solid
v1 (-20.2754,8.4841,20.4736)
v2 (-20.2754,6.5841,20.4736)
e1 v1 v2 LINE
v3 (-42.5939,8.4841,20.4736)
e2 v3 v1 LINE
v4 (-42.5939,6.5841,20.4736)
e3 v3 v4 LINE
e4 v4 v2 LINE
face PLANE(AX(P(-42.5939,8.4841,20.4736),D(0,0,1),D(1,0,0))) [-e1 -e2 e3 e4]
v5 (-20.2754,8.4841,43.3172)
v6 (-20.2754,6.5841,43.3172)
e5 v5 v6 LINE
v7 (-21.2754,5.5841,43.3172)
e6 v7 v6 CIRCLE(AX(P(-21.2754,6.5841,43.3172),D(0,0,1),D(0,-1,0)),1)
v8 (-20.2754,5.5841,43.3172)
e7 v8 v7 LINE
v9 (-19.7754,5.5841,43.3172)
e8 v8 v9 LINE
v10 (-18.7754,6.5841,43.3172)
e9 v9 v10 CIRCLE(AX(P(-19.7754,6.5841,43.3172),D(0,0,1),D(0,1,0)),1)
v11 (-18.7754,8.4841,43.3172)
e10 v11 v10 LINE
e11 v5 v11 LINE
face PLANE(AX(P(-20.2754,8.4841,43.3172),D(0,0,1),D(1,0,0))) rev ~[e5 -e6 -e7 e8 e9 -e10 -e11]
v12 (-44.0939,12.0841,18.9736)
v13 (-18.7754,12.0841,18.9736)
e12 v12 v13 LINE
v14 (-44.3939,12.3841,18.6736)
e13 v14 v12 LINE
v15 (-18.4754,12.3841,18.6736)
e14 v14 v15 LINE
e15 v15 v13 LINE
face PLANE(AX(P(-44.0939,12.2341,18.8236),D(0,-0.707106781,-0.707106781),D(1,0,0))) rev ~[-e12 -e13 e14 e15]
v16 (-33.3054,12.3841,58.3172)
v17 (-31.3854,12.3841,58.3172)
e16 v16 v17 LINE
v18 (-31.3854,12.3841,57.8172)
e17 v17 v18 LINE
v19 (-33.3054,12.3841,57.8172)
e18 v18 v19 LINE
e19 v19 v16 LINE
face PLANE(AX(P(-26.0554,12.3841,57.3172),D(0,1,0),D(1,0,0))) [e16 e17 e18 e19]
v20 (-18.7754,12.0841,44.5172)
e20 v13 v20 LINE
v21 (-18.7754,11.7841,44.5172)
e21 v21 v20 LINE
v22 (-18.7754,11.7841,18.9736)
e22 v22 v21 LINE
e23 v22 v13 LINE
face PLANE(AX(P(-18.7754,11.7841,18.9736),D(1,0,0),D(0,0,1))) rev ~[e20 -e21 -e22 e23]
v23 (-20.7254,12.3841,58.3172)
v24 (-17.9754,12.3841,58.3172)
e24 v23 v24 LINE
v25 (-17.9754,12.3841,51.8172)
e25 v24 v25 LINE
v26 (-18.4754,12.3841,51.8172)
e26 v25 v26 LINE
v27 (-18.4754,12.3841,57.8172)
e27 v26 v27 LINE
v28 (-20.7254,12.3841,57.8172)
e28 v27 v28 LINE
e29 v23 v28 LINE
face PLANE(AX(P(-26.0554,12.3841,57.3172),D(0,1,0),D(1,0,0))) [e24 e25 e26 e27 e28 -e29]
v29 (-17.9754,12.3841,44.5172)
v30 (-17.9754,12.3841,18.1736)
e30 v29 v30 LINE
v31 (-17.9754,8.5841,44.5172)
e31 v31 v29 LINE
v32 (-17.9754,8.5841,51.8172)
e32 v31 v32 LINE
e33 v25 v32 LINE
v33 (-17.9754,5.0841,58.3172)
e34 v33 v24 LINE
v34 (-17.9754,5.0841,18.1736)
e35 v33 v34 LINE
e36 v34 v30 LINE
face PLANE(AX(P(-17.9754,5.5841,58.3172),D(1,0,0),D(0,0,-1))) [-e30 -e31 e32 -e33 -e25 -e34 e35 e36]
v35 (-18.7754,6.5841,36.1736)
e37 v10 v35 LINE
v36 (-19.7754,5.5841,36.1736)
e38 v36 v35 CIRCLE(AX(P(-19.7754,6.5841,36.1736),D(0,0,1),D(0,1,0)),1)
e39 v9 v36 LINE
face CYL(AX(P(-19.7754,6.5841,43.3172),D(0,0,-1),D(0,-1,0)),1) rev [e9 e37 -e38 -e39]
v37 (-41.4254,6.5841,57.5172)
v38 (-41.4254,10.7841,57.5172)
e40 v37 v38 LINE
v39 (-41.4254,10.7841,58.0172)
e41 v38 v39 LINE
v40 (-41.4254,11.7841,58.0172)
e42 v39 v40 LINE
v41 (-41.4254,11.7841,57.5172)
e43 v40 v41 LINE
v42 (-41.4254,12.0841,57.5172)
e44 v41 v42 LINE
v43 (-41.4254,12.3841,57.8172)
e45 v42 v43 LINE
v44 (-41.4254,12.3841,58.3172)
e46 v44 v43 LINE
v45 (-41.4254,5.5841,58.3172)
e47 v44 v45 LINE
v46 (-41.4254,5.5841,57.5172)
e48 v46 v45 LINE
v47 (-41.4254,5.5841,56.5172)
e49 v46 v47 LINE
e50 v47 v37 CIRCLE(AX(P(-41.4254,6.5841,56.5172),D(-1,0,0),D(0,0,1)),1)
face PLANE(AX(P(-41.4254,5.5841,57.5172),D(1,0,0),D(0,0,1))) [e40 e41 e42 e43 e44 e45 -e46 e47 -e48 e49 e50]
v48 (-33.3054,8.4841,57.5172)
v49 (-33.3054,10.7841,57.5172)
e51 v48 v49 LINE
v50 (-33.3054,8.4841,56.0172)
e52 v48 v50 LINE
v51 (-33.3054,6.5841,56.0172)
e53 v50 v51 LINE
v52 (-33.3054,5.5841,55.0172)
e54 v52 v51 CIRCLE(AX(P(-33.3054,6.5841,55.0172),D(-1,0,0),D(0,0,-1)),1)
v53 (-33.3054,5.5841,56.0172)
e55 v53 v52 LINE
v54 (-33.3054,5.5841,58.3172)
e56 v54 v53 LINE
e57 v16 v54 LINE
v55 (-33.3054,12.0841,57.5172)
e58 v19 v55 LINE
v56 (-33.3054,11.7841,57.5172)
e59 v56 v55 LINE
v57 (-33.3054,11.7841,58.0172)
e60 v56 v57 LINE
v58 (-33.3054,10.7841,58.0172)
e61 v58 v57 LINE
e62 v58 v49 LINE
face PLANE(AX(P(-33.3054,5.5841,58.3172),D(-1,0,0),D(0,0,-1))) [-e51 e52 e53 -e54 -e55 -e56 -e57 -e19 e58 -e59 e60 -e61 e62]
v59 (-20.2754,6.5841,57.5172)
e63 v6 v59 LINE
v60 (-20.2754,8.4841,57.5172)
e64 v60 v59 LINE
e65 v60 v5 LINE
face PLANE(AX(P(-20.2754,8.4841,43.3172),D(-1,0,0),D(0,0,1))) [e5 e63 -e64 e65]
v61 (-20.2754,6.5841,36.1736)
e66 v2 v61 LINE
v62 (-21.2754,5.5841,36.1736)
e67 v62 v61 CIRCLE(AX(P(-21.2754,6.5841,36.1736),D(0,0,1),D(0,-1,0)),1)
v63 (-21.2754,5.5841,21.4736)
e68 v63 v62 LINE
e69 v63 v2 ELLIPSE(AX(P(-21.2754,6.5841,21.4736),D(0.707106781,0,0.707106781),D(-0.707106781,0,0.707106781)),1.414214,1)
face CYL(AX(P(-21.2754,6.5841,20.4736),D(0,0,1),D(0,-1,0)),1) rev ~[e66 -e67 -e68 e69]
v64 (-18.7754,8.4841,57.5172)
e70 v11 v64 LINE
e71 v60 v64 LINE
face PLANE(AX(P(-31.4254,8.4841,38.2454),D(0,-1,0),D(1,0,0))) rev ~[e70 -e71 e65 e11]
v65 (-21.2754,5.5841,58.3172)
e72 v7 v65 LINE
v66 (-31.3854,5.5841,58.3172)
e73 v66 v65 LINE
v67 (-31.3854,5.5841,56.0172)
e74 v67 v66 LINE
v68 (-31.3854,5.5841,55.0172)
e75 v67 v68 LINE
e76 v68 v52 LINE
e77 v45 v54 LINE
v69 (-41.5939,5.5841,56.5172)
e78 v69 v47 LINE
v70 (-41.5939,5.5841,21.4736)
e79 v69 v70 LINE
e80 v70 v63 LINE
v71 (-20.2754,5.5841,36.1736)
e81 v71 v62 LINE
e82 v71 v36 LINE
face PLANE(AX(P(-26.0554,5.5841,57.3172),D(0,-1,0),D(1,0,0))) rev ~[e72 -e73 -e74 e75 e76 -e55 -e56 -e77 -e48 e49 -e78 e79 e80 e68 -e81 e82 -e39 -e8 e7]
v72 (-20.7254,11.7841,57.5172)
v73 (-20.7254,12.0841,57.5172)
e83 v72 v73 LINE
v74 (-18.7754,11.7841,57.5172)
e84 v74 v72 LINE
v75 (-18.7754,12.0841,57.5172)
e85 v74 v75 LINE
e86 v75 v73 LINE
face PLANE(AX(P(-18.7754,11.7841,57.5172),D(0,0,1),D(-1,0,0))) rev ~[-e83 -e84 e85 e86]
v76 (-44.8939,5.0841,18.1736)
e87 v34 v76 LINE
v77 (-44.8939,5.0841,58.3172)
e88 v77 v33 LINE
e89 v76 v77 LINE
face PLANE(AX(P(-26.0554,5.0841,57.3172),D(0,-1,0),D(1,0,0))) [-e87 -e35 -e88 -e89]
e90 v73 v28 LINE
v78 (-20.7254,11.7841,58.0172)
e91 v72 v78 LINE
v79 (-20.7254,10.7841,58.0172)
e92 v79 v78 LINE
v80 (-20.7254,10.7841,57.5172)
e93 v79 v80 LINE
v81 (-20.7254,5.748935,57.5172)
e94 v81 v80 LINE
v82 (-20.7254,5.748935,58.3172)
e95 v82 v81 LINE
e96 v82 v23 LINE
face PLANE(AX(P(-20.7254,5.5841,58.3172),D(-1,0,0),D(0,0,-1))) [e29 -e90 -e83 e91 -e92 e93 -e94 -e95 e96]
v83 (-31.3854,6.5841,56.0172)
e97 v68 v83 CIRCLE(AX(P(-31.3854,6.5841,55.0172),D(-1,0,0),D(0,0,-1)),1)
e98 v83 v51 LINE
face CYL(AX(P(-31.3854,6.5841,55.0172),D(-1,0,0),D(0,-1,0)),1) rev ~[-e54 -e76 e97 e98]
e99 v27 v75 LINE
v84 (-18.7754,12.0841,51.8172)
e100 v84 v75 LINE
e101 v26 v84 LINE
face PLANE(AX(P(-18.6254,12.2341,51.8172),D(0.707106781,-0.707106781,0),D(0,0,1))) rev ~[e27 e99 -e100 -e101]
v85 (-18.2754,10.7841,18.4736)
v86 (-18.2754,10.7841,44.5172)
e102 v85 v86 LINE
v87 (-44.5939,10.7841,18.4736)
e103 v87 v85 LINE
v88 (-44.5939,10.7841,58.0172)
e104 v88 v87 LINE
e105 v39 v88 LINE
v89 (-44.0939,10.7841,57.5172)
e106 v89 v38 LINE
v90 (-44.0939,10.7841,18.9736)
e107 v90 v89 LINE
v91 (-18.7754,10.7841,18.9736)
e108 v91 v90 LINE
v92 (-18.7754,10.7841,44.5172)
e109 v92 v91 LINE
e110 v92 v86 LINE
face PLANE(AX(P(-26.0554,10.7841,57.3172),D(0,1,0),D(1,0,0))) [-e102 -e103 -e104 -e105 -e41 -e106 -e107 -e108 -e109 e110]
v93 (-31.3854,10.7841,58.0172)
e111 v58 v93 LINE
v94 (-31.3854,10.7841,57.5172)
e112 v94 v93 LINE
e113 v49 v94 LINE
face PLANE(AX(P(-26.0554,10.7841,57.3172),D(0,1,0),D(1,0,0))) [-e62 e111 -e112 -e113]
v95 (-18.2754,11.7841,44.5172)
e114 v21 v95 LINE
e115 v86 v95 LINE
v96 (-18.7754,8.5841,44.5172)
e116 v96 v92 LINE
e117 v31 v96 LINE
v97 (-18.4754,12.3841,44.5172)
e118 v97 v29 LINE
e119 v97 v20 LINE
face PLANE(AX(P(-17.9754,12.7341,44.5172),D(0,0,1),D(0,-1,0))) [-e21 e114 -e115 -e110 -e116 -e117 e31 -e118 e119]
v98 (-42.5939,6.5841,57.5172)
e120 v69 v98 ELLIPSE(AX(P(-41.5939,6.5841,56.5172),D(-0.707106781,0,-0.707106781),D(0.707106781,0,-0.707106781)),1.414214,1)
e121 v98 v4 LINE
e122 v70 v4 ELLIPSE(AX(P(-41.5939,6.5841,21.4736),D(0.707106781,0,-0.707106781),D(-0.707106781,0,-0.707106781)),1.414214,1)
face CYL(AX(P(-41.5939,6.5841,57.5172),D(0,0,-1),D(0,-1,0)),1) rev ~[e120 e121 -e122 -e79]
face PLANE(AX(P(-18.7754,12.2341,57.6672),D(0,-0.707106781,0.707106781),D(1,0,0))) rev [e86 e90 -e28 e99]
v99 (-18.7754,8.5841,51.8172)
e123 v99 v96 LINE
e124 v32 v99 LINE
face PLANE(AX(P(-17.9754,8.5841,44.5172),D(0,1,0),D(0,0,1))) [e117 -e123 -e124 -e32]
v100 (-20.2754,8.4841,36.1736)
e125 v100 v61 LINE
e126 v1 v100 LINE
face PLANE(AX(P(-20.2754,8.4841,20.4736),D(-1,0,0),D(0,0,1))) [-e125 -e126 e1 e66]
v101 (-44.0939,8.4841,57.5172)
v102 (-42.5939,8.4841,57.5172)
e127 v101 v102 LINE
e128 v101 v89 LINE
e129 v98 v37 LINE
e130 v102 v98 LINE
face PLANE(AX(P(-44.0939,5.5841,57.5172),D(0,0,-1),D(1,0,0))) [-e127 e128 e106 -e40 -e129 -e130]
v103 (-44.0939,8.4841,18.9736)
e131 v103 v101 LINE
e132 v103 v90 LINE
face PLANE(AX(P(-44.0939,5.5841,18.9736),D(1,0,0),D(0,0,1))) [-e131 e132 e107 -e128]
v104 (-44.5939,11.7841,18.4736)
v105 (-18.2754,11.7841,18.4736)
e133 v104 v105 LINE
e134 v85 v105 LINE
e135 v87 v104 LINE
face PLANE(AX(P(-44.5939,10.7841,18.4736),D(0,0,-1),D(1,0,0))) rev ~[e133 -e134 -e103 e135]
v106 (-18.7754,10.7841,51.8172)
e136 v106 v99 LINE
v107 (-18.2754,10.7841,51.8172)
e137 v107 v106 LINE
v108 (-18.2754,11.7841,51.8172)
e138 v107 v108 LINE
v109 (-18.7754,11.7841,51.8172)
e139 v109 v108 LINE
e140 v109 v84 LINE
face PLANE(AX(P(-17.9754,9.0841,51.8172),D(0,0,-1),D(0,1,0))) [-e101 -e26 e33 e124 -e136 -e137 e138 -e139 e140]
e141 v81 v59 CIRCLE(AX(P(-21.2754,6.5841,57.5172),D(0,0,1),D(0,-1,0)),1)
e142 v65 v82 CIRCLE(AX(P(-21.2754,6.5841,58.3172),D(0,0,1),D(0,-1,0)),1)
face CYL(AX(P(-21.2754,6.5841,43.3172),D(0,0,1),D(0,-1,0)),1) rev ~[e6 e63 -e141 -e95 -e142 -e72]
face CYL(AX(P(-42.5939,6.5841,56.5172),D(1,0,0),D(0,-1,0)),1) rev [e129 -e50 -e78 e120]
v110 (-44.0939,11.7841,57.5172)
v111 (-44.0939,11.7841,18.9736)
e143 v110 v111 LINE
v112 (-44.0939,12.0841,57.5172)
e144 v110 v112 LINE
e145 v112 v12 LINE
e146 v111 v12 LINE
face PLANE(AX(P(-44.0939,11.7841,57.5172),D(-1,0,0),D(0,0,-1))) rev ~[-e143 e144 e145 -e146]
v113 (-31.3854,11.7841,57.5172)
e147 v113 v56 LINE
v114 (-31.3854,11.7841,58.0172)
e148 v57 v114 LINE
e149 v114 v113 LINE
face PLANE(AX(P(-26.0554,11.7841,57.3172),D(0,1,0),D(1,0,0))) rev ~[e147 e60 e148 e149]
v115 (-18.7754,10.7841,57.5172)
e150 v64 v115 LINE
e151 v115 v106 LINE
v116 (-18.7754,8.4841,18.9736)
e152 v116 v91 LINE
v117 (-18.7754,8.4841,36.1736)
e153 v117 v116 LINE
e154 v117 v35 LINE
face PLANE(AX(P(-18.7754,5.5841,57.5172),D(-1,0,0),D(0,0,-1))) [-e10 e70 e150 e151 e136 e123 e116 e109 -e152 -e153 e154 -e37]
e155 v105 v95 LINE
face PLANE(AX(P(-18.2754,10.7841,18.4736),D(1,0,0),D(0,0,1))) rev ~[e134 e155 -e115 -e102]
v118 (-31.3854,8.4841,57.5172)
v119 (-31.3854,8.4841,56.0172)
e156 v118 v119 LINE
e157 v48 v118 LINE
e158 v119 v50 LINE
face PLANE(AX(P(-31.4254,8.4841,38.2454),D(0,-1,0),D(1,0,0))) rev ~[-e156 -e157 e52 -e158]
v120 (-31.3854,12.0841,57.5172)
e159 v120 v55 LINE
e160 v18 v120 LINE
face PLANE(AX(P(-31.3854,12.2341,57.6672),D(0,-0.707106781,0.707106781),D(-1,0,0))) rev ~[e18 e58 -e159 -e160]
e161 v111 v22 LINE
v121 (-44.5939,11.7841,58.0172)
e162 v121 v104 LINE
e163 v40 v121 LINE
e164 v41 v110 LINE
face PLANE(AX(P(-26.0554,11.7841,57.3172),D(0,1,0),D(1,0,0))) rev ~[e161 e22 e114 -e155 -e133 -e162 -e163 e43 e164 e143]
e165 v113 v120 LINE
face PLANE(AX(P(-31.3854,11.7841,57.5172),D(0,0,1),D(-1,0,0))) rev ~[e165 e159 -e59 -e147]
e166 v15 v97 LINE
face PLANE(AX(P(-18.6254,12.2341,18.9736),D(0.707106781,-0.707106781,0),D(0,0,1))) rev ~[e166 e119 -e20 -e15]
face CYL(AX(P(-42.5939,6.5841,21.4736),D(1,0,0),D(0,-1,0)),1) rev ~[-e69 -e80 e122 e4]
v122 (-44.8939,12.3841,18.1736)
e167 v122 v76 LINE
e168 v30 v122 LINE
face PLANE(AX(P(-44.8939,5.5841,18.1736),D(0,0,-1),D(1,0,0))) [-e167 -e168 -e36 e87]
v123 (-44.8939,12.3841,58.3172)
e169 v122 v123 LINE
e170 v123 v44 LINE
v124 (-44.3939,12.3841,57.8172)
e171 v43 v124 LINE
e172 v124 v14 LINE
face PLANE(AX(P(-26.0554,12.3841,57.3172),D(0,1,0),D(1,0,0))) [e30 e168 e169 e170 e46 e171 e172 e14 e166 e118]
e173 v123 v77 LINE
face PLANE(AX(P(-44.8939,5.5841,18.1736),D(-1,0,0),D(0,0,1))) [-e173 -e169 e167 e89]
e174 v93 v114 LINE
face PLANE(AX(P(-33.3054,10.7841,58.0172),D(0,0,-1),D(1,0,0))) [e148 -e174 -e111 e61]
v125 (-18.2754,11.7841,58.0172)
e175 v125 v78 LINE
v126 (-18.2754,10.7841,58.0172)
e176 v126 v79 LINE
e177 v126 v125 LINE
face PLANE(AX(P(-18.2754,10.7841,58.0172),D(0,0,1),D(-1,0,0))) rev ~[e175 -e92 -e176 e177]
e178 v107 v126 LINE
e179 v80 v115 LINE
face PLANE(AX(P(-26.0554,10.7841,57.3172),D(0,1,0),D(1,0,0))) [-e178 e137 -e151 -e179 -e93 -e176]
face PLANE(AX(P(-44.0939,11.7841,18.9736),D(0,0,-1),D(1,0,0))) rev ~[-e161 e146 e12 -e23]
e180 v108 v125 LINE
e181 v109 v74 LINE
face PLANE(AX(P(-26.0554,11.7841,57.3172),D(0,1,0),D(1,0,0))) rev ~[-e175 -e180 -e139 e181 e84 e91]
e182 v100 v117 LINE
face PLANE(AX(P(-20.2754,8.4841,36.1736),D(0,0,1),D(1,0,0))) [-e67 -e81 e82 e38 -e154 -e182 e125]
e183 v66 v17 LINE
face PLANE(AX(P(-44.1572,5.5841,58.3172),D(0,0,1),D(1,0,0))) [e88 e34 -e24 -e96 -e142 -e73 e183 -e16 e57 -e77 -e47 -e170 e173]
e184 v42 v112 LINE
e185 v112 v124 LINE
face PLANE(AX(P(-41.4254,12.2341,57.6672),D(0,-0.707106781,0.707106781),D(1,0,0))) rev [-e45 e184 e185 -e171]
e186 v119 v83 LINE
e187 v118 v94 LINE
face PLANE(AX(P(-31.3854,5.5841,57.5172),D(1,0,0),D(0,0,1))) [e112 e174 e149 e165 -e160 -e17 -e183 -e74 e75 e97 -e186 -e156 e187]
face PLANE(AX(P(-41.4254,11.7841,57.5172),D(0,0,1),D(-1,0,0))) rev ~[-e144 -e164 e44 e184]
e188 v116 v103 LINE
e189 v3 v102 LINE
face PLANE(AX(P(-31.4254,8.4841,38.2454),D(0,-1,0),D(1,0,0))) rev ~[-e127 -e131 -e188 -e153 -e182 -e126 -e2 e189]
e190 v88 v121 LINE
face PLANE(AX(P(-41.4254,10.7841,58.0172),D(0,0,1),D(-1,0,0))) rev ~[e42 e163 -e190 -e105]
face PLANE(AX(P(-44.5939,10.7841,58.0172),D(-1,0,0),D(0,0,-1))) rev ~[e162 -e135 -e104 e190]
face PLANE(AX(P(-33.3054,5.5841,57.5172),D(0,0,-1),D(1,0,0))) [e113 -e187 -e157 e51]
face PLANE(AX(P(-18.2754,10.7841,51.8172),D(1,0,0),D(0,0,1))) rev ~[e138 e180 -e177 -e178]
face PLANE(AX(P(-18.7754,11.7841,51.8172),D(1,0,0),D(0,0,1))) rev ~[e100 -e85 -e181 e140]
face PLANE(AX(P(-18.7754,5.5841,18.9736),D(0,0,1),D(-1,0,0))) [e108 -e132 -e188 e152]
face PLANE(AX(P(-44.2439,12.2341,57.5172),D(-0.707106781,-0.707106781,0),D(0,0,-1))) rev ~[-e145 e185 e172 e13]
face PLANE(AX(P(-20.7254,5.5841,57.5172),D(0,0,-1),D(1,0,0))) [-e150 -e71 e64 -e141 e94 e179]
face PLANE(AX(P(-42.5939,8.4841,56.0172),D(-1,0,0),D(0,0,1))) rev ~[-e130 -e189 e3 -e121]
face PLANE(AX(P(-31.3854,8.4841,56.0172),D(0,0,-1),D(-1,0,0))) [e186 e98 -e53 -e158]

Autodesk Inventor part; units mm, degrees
ref_plane "YZ Plane" through (0, 0, 0) normal (1, 0, 0) x (0, 1, 0)
ref_plane "Work Plane1" through (-26.0554, 5.5841, 57.3172) normal (0, -1, 0) x (1, 0, 0)
sketch "Sketch1" plane through (-26.0554, 5.5841, 57.3172) normal (0, -1, 0) x (1, 0, 0)
  arc A0 (-6.2529, -16.6318) -> (-5.7152, -17.8896) centre (-4.5084, -16.63) ccw projected
  line L0 (-6.2529, -16.6318) -> (-8.9554, -15.4715) projected
  arc A1 (-8.9554, -15.4715) -> (-9.6085, -15.4715) centre (-9.2819, -16.2321) ccw projected
  line L1 (-9.6085, -15.4715) -> (-11.5974, -15.1528) projected
  arc A2 (-11.5974, -15.1528) -> (-12.113, -13.8772) centre (-12.9119, -14.9421) ccw projected
  line L2 (-12.113, -13.8772) -> (-12.113, -11.7599) projected
  line L3 (-12.113, -11.7599) -> (-10.8096, -8.0503) projected
  line L4 (-10.8096, -8.0503) -> (-0.9192, -8.5103) projected
  arc A3 (-0.3314, -8.8426) -> (-0.9192, -8.5103) centre (-0.954, -9.258) ccw projected
  line L5 (-0.3314, -8.8426) -> (2.5309, -17.8896) projected
  arc A4 (2.5309, -18.6308) -> (2.5309, -17.8896) centre (1.3597, -18.2602) ccw projected
  line L6 (2.5309, -18.6308) -> (1.3597, -25.9399) projected
  line L7 (1.3597, -25.9399) -> (-2.6315, -30.1057) projected
  arc A5 (-3.5771, -30.3612) -> (-2.6315, -30.1057) centre (-3.3161, -29.4497) ccw projected
  line L8 (-3.5771, -30.3612) -> (-8.4584, -28.2656) projected
  arc A6 (-9.8385, -26.6044) -> (-8.4584, -28.2656) centre (-7.5216, -26.0835) ccw projected
  line L9 (-9.8385, -26.6044) -> (-9.8385, -22.4387) projected
  arc A7 (-9.6085, -21.9531) -> (-9.8385, -22.4387) centre (-9.2109, -22.4387) ccw projected
  line L10 (-9.6085, -21.9531) -> (-5.7152, -17.8896) projected
  line L11 (7.08, -38.1436) -> (-17.82, -38.1436) projected
  line L12 (7.08, 0) -> (7.08, -38.1436) projected
  line L13 (-17.12, 0) -> (7.08, 0) projected
  line L14 (-17.82, -38.1436) -> (-17.12, 0) projected
  line L15 (-15.12, 0) -> (-15.12, -2.1) projected
  line L16 (4.83, 0) -> (4.83, -2.3) projected
  line L17 (-7.5, -2.1) -> (-7.5, 0) projected
  line L18 (-5.08, 0) -> (-5.08, -2.1) projected
  line L19 (8.08, -39.1436) -> (-18.8385, -39.1436)
  line L20 (-18.8385, -39.1436) -> (-18.1018, 1)
  line L21 (-18.1018, 1) -> (8.08, 1)
  line L22 (8.08, 1) -> (8.08, -39.1436)
  line L23 (-18.8385, -39.1436) -> (-18.8385, 1)
  line L24 (-18.8385, 1) -> (-18.1018, 1)
  point P0 (26.0554, -57.3172)
  dimension "d2" = 1
extrude "Extrusion1" add sketch "Sketch1" along normal blind 0.5 contours L0 A1 L1 A2 L2 L3 L4 A3 L5 A4 L6 L7 A5 L8 A6 L9 A7 L10 A0 | L11 L14 L13 L12 | L19 L20 L21 L22 | L23 L24 L20
sketch "Sketch2" plane through (-26.0554, 5.5841, 57.3172) normal (0, 1, 0) x (1, 0, 0)
  line L0 (5.08, 0) -> (5.08, 2.1)
  line L1 (5.08, 2.1) -> (5.08, 0)
  line L2 (-5.08, 0) -> (-5.08, 2.1)
  line L3 (-7.5, 2.1) -> (-7.5, 0)
  line L4 (-15.12, 0) -> (-15.12, 2.1)
  line L5 (4.83, 2.3) -> (2.79, 2.3)
  line L6 (8.08, 39.1436) -> (8.08, -1)
  line L7 (-18.8385, 39.1436) -> (8.08, 39.1436)
  line L8 (5.08, 2.1) -> (5.08, 2.3)
  line L9 (5.08, 2.3) -> (4.83, 2.3)
  line L10 (2.79, 2.3) -> (-5.08, 2.3)
  line L11 (-5.08, 2.3) -> (-5.08, 2.0628)
  line L12 (-7.5, 2.1) -> (-7.5, 2.3)
  line L13 (-7.5, 2.3) -> (-15.12, 2.3)
  line L14 (-15.12, 2.3) -> (-15.12, 2.0628)
  line L15 (-7.5, 0) -> (-15.12, 0)
  line L16 (-5.08, 0) -> (5.08, 0)
  line L17 (8.08, -1) -> (-17.1109, -1)
  line L18 (-7.25, 2.55) -> (-15.37, 2.55)
  line L19 (-15.37, 2.55) -> (-15.37, -1)
  line L20 (-15.37, -1) -> (-7.25, -1)
  line L21 (-7.25, -1) -> (-7.25, 2.55)
  line L22 (-5.33, -1) -> (5.33, -1)
  line L23 (5.33, -1) -> (5.33, 2.55)
  line L24 (5.33, 2.55) -> (-5.33, 2.55)
  line L25 (-5.33, 2.55) -> (-5.33, -1)
  line L26 (8.08, -1) -> (-18.8385, -1)
  line L27 (-18.8385, -1) -> (-18.8385, 39.1436)
  line L28 (7.28, -0.2) -> (7.28, 38.3436)
  line L29 (7.28, 38.3436) -> (-18.0385, 38.3436)
  line L30 (-18.0385, 38.3436) -> (-18.0385, -0.2)
  line L31 (-18.0385, -0.2) -> (7.28, -0.2)
  point P0 (26.0554, 57.3172)
  point P1 (-5.33, -0.2)
  point P2 (-7.25, -0.2)
  point P3 (-7.25, -1)
  point P4 (-17.6109, -0.5)
  point P5 (-15.37, -0.2)
  point P6 (5.33, -0.2)
  point P7 (5.33, -1)
  point P8 (-17.1109, -1)
extrude "Extrusion2" add sketch "Sketch2" along normal blind 5.2 contours L6 L17 L23 L31 L28 L29 L30 L19 L26 L27 L7 | L17 L21 L31 L25
sketch "Sketch3" plane through (-17.9754, 5.0841, 58.3172) normal (1, 0, 0) x (0, 0, -1)
  line L0 (6.5, 4) -> (13.3, 4)
  line L1 (6.5, 7.65) -> (13.8, 7.65)
  line L2 (13.8, 7.65) -> (13.8, 3.5)
  line L3 (13.8, 3.5) -> (6.5, 3.5)
  line L4 (6.5, 3.5) -> (6.5, 7.65)
  line L5 (1, 3.4) -> (39.1436, 3.4) projected
  line L6 (39.1436, 3.4) -> (39.1436, 4) projected
  line L7 (13.3, 4) -> (39.1436, 4) projected
  line L8 (13.3, 4) -> (13.3, 7.15) projected
  line L9 (7, 7.15) -> (13.3, 7.15) projected
  line L10 (7, 4) -> (7, 7.15) projected
  line L11 (1, 4) -> (7, 4) projected
  line L12 (1, 3.4) -> (1, 4) projected
  point P0 (58.3172, -5.0841)
  dimension "d14" = 0.5
  dimension "d41" = 0.5
  dimension "d42" = 0.5
  dimension "d43" = 0.5
extrude "Extrusion3" cut sketch "Sketch3" against normal blind 5.2 contours L4 L1 L2 L7 L8 L9 L10 L0 | L0 L7 L2 L3 L4 | L10 L9 L8 L0
sketch "Sketch4" plane through (-26.0554, 10.7841, 57.3172) normal (0, 1, 0) x (1, 0, 0)
  line L0 (8.08, 5.5) -> (7.28, 5.5) projected
  line L1 (7.28, 5.5) -> (7.28, -0.2) projected
  line L2 (7.28, -0.2) -> (5.33, -0.2) projected
  line L3 (5.33, -0.2) -> (5.33, -1) projected
  line L4 (5.33, -1) -> (8.08, -1) projected
  line L5 (8.08, -1) -> (8.08, 5.5) projected
  line L6 (7.28, 12.8) -> (8.08, 12.8) projected
  line L7 (8.08, 12.8) -> (8.08, 39.1436) projected
  line L8 (8.08, 39.1436) -> (-18.8385, 39.1436) projected
  line L9 (-18.8385, 39.1436) -> (-18.8385, -1) projected
  line L10 (-18.8385, -1) -> (-15.37, -1) projected
  line L11 (-15.37, -1) -> (-15.37, -0.2) projected
  line L12 (-15.37, -0.2) -> (-18.0385, -0.2) projected
  line L13 (-18.0385, -0.2) -> (-18.0385, 38.3436) projected
  line L14 (-18.0385, 38.3436) -> (7.28, 38.3436) projected
  line L15 (7.28, 38.3436) -> (7.28, 12.8) projected
  line L16 (-7.25, -0.2) -> (-7.25, -1) projected
  line L17 (-7.25, -1) -> (-5.33, -1) projected
  line L18 (-5.33, -1) -> (-5.33, -0.2) projected
  line L19 (-5.33, -0.2) -> (-7.25, -0.2) projected
  line L20 (-15.37, -0.2) -> (-15.37, -1) projected
  line L21 (-15.37, -0.7) -> (-18.5385, -0.7)
  line L22 (-18.5385, -0.7) -> (-18.5385, 38.8436)
  line L23 (-18.5385, 38.8436) -> (7.78, 38.8436)
  line L24 (7.78, 38.8436) -> (7.78, 12.8)
  line L25 (7.78, 5.5) -> (7.78, -0.7)
  line L26 (7.78, -0.7) -> (5.33, -0.7)
  line L27 (-7.25, -0.7) -> (-5.33, -0.7)
  point P0 (8.08, 25.9718)
  point P1 (-15.37, -0.7)
  dimension "d44" = 0.3
  dimension "d45" = 0.3
  dimension "d46" = 0.3
  dimension "d47" = 0.3
  dimension "d48" = 0.3
  dimension "d49" = 0.3
extrude "Extrusion4" add sketch "Sketch4" along normal blind 1 contours L5 L4 L3 L26 L25 L0 | L24 L23 L22 L21 L11 L10 L9 L8 L7 L6 | L27 L18 L17 L16
sketch "Sketch5" plane through (-26.0554, 11.7841, 57.3172) normal (0, 1, 0) x (1, 0, 0)
  line L0 (-15.37, -1) -> (-15.37, -0.2) projected
  line L1 (8.08, 12.8) -> (8.08, 39.1436) projected
  line L2 (8.08, 39.1436) -> (-18.8385, 39.1436) projected
  line L3 (-18.8385, 39.1436) -> (-18.8385, -1) projected
  line L4 (-18.8385, -1) -> (-15.37, -1) projected
  line L5 (7.58, 5.5) -> (7.38, 5.5) projected
  line L6 (7.38, 5.5) -> (7.38, -0.3) projected
  line L7 (7.38, -0.3) -> (5.33, -0.3) projected
  line L8 (5.33, -0.3) -> (5.33, -0.5) projected
  line L9 (5.33, -0.5) -> (7.58, -0.5) projected
  line L10 (7.58, -0.5) -> (7.58, 5.5) projected
  line L11 (-7.25, -0.2) -> (-7.25, -1) projected
  line L12 (-7.25, -1) -> (-5.33, -1) projected
  line L13 (-15.37, -1) -> (-15.37, -0.2) projected
  line L14 (-15.37, -0.2) -> (-18.0385, -0.2) projected
  line L15 (-18.0385, -0.2) -> (-18.0385, 38.3436) projected
  line L16 (-18.0385, 38.3436) -> (7.28, 38.3436) projected
  line L17 (7.28, 38.3436) -> (7.28, 12.8) projected
  line L18 (-5.33, -0.2) -> (-7.25, -0.2) projected
  line L19 (-7.25, -0.2) -> (-7.25, -1) projected
  line L20 (7.28, 5.5) -> (7.28, -0.2) projected
  line L21 (7.28, -0.2) -> (5.33, -0.2) projected
  line L22 (-7.25, -0.2) -> (-7.25, -1) projected
  line L23 (-15.37, -1) -> (-15.37, -0.2) projected
  line L24 (-15.37, -0.2) -> (-18.0385, -0.2) projected
  line L25 (-18.0385, -0.2) -> (-18.0385, 38.3436) projected
  line L26 (-18.0385, 38.3436) -> (7.28, 38.3436) projected
  line L27 (-15.37, -1) -> (-15.37, -0.2) projected
  line L28 (-15.37, -0.2) -> (-18.0385, -0.2) projected
  line L29 (-18.0385, -0.2) -> (-18.0385, 38.3436) projected
  line L30 (-18.0385, 38.3436) -> (7.28, 38.3436) projected
  line L31 (7.28, 38.3436) -> (7.28, 12.8) projected
  line L32 (-7.25, -0.2) -> (-7.25, -1) projected
  line L33 (7.28, -0.2) -> (5.33, -0.2) projected
  line L34 (7.28, 12.8) -> (8.08, 12.8) projected
  line L35 (8.08, 12.8) -> (8.08, 39.1436) projected
  line L36 (8.08, 39.1436) -> (-18.8385, 39.1436) projected
  line L37 (-18.8385, 39.1436) -> (-18.8385, -1) projected
  line L38 (-18.8385, -1) -> (-15.37, -1) projected
  line L39 (8.08, -1) -> (8.08, 5.5) projected
  line L40 (8.08, 5.5) -> (7.28, 5.5) projected
  line L41 (7.28, 38.3436) -> (7.28, 12.8) projected
  line L42 (7.28, 12.8) -> (8.08, 12.8) projected
  line L43 (8.08, 12.8) -> (8.08, 39.1436) projected
  line L44 (8.08, 39.1436) -> (-18.8385, 39.1436) projected
  line L45 (-18.8385, 39.1436) -> (-18.8385, -1) projected
  line L46 (-18.8385, -1) -> (-15.37, -1) projected
  line L47 (8.08, -1) -> (8.08, 5.5) projected
  line L48 (8.08, 5.5) -> (7.28, 5.5) projected
  line L49 (7.28, 5.5) -> (7.28, -0.2) projected
  line L50 (7.28, 12.8) -> (8.08, 12.8) projected
  line L51 (8.08, 12.8) -> (8.08, 39.1436) projected
  line L52 (8.08, 39.1436) -> (-18.8385, 39.1436) projected
  line L53 (-18.8385, 39.1436) -> (-18.8385, -1) projected
  line L54 (-18.8385, -1) -> (-15.37, -1) projected
  line L55 (8.08, -1) -> (8.08, 5.5) projected
  line L56 (8.08, 5.5) -> (7.28, 5.5) projected
  line L57 (7.28, 5.5) -> (7.28, -0.2) projected
  line L58 (8.08, -1) -> (8.08, 5.5) projected
  line L59 (8.08, 5.5) -> (7.28, 5.5) projected
  line L60 (7.28, 5.5) -> (7.28, -0.2) projected
  line L61 (-5.33, -0.2) -> (-7.25, -0.2) projected
  line L62 (-7.25, -1) -> (-5.33, -1) projected
  line L63 (-5.33, -1) -> (-5.33, -0.2) projected
  line L64 (-5.33, -0.2) -> (-7.25, -0.2) projected
  line L65 (5.33, -0.2) -> (5.33, -1) projected
  line L66 (5.33, -1) -> (8.08, -1) projected
  line L67 (-7.25, -1) -> (-5.33, -1) projected
  line L68 (-5.33, -1) -> (-5.33, -0.2) projected
  line L69 (7.28, -0.2) -> (5.33, -0.2) projected
  line L70 (5.33, -0.2) -> (5.33, -1) projected
  line L71 (5.33, -1) -> (8.08, -1) projected
  line L72 (-7.25, -1) -> (-5.33, -1) projected
  line L73 (-5.33, -1) -> (-5.33, -0.2) projected
  line L74 (-5.33, -0.2) -> (-7.25, -0.2) projected
  line L75 (5.33, -0.2) -> (5.33, -1) projected
  line L76 (5.33, -1) -> (8.08, -1) projected
  line L77 (-5.33, -1) -> (-5.33, -0.2) projected
  line L78 (7.28, -0.2) -> (5.33, -0.2) projected
  line L79 (5.33, -0.2) -> (5.33, -1) projected
  line L80 (5.33, -1) -> (8.08, -1) projected
  line L81 (-15.37, -0.2) -> (-18.0385, -0.2) projected
  line L82 (-18.0385, -0.2) -> (-18.0385, 38.3436) projected
  line L83 (-18.0385, 38.3436) -> (7.28, 38.3436) projected
  line L84 (7.28, 38.3436) -> (7.28, 12.8) projected
  line L85 (7.28, 12.8) -> (8.08, 12.8) projected
  point P0 (26.0554, 57.3172)
extrude "Extrusion5" add sketch "Sketch5" along normal blind 0.6
chamfer "Chamfer1" distance 0.3 angle 45 7 edges at (-42.7597, 12.3841, 57.5172) (-44.0939, 12.3841, 38.2454) (-31.4347, 12.3841, 18.9736) (-18.7754, 12.3841, 31.7454) (-32.3454, 12.3841, 57.5172) (-18.7754, 12.3841, 54.6672) (-19.7504, 12.3841, 57.5172)
ref_plane "Work Plane2" through (-31.4254, 8.4841, 38.2454) normal (0, -1, 0) x (1, 0, 0)
sketch "Sketch6" plane through (-31.4254, 8.4841, 38.2454) normal (0, -1, 0) x (1, 0, 0)
  line L0 (-10, 19.2718) -> (-10, 20.0718) projected
  line L1 (-1.88, 20.0718) -> (-10, 20.0718) projected
  line L2 (-1.88, 20.0718) -> (-1.88, 19.2718) projected
  line L3 (-1.88, 19.2718) -> (0.04, 19.2718) projected
  line L4 (0.04, 19.2718) -> (0.04, 20.0718) projected
  line L5 (10.7, 20.0718) -> (0.04, 20.0718) projected
  line L6 (10.7, 20.0718) -> (10.7, 19.2718) projected
  line L7 (10.7, 19.2718) -> (12.65, 19.2718) projected
  line L8 (12.65, 19.2718) -> (12.65, -19.2718) projected
  line L9 (12.65, -19.2718) -> (-12.6685, -19.2718) projected
  line L10 (-12.6685, -19.2718) -> (-12.6685, 19.2718) projected
  line L11 (-12.6685, 19.2718) -> (-10, 19.2718) projected
  line L12 (-11.1685, -17.7718) -> (11.15, -17.7718)
  line L13 (11.15, -17.7718) -> (11.15, 17.7718)
  line L14 (11.15, 17.7718) -> (9.2, 17.7718)
  line L15 (9.2, 17.7718) -> (9.2, 18.5718)
  line L16 (9.2, 18.5718) -> (1.54, 18.5718)
  line L17 (1.54, 18.5718) -> (1.54, 17.7718)
  line L18 (1.54, 17.7718) -> (-3.38, 17.7718)
  line L19 (-3.38, 17.7718) -> (-3.38, 18.5718)
  line L20 (-3.38, 18.5718) -> (-8.5, 18.5718)
  line L21 (-8.5, 18.5718) -> (-8.5, 17.7718)
  line L22 (-8.5, 17.7718) -> (-11.1685, 17.7718)
  line L23 (-11.1685, 17.7718) -> (-11.1685, -17.7718)
  line L24 (-11.1685, 17.7718) -> (-11.1685, 19.2718)
  line L25 (11.15, 17.7718) -> (11.15, 19.2718)
  line L26 (-1.88, 19.2718) -> (-1.88, 17.7718)
  line L27 (0.04, 19.2718) -> (0.04, 17.7718)
  line L28 (11.15, -2.0718) -> (12.65, -2.0718)
  line L29 (12.65, -19.2718) -> (12.65, 6.2718) projected
  line L30 (11.15, 5.0718) -> (12.65, 5.0718)
  point P0 (31.4254, -38.2454)
  point P1 (12.45, 19.0718)
  point P2 (12.45, -19.0718)
  point P3 (12.65, 5.0718)
  point P4 (12.65, -2.0718)
  dimension "d50" = 1.5
  dimension "d51" = 17
  dimension "d52" = 14
extrude "Extrusion6" add sketch "Sketch6" along normal up to surface (2.9 mm away) contours L24 L23 L12 L13 L28 L8 L9 L10 L11 | L3 L27 L18 L26 | L30 L13 L25 L7 L8
fillet "Fillet2" radius 1 7 edges at (-42.5939, 5.5841, 38.9954) (-42.0097, 5.5841, 57.5172) (-32.3454, 5.5841, 56.0172) (-20.2754, 5.5841, 50.4172) (-18.7754, 5.5841, 39.7454) (-20.2754, 5.5841, 28.3236) (-31.4347, 5.5841, 20.4736)
equation "\"d45\" = d44"
equation "\"d46\" = d44"
equation "\"d47\" = d44"
equation "\"d48\" = d44"
equation "\"d49\" = d44"
properties part number "case"
